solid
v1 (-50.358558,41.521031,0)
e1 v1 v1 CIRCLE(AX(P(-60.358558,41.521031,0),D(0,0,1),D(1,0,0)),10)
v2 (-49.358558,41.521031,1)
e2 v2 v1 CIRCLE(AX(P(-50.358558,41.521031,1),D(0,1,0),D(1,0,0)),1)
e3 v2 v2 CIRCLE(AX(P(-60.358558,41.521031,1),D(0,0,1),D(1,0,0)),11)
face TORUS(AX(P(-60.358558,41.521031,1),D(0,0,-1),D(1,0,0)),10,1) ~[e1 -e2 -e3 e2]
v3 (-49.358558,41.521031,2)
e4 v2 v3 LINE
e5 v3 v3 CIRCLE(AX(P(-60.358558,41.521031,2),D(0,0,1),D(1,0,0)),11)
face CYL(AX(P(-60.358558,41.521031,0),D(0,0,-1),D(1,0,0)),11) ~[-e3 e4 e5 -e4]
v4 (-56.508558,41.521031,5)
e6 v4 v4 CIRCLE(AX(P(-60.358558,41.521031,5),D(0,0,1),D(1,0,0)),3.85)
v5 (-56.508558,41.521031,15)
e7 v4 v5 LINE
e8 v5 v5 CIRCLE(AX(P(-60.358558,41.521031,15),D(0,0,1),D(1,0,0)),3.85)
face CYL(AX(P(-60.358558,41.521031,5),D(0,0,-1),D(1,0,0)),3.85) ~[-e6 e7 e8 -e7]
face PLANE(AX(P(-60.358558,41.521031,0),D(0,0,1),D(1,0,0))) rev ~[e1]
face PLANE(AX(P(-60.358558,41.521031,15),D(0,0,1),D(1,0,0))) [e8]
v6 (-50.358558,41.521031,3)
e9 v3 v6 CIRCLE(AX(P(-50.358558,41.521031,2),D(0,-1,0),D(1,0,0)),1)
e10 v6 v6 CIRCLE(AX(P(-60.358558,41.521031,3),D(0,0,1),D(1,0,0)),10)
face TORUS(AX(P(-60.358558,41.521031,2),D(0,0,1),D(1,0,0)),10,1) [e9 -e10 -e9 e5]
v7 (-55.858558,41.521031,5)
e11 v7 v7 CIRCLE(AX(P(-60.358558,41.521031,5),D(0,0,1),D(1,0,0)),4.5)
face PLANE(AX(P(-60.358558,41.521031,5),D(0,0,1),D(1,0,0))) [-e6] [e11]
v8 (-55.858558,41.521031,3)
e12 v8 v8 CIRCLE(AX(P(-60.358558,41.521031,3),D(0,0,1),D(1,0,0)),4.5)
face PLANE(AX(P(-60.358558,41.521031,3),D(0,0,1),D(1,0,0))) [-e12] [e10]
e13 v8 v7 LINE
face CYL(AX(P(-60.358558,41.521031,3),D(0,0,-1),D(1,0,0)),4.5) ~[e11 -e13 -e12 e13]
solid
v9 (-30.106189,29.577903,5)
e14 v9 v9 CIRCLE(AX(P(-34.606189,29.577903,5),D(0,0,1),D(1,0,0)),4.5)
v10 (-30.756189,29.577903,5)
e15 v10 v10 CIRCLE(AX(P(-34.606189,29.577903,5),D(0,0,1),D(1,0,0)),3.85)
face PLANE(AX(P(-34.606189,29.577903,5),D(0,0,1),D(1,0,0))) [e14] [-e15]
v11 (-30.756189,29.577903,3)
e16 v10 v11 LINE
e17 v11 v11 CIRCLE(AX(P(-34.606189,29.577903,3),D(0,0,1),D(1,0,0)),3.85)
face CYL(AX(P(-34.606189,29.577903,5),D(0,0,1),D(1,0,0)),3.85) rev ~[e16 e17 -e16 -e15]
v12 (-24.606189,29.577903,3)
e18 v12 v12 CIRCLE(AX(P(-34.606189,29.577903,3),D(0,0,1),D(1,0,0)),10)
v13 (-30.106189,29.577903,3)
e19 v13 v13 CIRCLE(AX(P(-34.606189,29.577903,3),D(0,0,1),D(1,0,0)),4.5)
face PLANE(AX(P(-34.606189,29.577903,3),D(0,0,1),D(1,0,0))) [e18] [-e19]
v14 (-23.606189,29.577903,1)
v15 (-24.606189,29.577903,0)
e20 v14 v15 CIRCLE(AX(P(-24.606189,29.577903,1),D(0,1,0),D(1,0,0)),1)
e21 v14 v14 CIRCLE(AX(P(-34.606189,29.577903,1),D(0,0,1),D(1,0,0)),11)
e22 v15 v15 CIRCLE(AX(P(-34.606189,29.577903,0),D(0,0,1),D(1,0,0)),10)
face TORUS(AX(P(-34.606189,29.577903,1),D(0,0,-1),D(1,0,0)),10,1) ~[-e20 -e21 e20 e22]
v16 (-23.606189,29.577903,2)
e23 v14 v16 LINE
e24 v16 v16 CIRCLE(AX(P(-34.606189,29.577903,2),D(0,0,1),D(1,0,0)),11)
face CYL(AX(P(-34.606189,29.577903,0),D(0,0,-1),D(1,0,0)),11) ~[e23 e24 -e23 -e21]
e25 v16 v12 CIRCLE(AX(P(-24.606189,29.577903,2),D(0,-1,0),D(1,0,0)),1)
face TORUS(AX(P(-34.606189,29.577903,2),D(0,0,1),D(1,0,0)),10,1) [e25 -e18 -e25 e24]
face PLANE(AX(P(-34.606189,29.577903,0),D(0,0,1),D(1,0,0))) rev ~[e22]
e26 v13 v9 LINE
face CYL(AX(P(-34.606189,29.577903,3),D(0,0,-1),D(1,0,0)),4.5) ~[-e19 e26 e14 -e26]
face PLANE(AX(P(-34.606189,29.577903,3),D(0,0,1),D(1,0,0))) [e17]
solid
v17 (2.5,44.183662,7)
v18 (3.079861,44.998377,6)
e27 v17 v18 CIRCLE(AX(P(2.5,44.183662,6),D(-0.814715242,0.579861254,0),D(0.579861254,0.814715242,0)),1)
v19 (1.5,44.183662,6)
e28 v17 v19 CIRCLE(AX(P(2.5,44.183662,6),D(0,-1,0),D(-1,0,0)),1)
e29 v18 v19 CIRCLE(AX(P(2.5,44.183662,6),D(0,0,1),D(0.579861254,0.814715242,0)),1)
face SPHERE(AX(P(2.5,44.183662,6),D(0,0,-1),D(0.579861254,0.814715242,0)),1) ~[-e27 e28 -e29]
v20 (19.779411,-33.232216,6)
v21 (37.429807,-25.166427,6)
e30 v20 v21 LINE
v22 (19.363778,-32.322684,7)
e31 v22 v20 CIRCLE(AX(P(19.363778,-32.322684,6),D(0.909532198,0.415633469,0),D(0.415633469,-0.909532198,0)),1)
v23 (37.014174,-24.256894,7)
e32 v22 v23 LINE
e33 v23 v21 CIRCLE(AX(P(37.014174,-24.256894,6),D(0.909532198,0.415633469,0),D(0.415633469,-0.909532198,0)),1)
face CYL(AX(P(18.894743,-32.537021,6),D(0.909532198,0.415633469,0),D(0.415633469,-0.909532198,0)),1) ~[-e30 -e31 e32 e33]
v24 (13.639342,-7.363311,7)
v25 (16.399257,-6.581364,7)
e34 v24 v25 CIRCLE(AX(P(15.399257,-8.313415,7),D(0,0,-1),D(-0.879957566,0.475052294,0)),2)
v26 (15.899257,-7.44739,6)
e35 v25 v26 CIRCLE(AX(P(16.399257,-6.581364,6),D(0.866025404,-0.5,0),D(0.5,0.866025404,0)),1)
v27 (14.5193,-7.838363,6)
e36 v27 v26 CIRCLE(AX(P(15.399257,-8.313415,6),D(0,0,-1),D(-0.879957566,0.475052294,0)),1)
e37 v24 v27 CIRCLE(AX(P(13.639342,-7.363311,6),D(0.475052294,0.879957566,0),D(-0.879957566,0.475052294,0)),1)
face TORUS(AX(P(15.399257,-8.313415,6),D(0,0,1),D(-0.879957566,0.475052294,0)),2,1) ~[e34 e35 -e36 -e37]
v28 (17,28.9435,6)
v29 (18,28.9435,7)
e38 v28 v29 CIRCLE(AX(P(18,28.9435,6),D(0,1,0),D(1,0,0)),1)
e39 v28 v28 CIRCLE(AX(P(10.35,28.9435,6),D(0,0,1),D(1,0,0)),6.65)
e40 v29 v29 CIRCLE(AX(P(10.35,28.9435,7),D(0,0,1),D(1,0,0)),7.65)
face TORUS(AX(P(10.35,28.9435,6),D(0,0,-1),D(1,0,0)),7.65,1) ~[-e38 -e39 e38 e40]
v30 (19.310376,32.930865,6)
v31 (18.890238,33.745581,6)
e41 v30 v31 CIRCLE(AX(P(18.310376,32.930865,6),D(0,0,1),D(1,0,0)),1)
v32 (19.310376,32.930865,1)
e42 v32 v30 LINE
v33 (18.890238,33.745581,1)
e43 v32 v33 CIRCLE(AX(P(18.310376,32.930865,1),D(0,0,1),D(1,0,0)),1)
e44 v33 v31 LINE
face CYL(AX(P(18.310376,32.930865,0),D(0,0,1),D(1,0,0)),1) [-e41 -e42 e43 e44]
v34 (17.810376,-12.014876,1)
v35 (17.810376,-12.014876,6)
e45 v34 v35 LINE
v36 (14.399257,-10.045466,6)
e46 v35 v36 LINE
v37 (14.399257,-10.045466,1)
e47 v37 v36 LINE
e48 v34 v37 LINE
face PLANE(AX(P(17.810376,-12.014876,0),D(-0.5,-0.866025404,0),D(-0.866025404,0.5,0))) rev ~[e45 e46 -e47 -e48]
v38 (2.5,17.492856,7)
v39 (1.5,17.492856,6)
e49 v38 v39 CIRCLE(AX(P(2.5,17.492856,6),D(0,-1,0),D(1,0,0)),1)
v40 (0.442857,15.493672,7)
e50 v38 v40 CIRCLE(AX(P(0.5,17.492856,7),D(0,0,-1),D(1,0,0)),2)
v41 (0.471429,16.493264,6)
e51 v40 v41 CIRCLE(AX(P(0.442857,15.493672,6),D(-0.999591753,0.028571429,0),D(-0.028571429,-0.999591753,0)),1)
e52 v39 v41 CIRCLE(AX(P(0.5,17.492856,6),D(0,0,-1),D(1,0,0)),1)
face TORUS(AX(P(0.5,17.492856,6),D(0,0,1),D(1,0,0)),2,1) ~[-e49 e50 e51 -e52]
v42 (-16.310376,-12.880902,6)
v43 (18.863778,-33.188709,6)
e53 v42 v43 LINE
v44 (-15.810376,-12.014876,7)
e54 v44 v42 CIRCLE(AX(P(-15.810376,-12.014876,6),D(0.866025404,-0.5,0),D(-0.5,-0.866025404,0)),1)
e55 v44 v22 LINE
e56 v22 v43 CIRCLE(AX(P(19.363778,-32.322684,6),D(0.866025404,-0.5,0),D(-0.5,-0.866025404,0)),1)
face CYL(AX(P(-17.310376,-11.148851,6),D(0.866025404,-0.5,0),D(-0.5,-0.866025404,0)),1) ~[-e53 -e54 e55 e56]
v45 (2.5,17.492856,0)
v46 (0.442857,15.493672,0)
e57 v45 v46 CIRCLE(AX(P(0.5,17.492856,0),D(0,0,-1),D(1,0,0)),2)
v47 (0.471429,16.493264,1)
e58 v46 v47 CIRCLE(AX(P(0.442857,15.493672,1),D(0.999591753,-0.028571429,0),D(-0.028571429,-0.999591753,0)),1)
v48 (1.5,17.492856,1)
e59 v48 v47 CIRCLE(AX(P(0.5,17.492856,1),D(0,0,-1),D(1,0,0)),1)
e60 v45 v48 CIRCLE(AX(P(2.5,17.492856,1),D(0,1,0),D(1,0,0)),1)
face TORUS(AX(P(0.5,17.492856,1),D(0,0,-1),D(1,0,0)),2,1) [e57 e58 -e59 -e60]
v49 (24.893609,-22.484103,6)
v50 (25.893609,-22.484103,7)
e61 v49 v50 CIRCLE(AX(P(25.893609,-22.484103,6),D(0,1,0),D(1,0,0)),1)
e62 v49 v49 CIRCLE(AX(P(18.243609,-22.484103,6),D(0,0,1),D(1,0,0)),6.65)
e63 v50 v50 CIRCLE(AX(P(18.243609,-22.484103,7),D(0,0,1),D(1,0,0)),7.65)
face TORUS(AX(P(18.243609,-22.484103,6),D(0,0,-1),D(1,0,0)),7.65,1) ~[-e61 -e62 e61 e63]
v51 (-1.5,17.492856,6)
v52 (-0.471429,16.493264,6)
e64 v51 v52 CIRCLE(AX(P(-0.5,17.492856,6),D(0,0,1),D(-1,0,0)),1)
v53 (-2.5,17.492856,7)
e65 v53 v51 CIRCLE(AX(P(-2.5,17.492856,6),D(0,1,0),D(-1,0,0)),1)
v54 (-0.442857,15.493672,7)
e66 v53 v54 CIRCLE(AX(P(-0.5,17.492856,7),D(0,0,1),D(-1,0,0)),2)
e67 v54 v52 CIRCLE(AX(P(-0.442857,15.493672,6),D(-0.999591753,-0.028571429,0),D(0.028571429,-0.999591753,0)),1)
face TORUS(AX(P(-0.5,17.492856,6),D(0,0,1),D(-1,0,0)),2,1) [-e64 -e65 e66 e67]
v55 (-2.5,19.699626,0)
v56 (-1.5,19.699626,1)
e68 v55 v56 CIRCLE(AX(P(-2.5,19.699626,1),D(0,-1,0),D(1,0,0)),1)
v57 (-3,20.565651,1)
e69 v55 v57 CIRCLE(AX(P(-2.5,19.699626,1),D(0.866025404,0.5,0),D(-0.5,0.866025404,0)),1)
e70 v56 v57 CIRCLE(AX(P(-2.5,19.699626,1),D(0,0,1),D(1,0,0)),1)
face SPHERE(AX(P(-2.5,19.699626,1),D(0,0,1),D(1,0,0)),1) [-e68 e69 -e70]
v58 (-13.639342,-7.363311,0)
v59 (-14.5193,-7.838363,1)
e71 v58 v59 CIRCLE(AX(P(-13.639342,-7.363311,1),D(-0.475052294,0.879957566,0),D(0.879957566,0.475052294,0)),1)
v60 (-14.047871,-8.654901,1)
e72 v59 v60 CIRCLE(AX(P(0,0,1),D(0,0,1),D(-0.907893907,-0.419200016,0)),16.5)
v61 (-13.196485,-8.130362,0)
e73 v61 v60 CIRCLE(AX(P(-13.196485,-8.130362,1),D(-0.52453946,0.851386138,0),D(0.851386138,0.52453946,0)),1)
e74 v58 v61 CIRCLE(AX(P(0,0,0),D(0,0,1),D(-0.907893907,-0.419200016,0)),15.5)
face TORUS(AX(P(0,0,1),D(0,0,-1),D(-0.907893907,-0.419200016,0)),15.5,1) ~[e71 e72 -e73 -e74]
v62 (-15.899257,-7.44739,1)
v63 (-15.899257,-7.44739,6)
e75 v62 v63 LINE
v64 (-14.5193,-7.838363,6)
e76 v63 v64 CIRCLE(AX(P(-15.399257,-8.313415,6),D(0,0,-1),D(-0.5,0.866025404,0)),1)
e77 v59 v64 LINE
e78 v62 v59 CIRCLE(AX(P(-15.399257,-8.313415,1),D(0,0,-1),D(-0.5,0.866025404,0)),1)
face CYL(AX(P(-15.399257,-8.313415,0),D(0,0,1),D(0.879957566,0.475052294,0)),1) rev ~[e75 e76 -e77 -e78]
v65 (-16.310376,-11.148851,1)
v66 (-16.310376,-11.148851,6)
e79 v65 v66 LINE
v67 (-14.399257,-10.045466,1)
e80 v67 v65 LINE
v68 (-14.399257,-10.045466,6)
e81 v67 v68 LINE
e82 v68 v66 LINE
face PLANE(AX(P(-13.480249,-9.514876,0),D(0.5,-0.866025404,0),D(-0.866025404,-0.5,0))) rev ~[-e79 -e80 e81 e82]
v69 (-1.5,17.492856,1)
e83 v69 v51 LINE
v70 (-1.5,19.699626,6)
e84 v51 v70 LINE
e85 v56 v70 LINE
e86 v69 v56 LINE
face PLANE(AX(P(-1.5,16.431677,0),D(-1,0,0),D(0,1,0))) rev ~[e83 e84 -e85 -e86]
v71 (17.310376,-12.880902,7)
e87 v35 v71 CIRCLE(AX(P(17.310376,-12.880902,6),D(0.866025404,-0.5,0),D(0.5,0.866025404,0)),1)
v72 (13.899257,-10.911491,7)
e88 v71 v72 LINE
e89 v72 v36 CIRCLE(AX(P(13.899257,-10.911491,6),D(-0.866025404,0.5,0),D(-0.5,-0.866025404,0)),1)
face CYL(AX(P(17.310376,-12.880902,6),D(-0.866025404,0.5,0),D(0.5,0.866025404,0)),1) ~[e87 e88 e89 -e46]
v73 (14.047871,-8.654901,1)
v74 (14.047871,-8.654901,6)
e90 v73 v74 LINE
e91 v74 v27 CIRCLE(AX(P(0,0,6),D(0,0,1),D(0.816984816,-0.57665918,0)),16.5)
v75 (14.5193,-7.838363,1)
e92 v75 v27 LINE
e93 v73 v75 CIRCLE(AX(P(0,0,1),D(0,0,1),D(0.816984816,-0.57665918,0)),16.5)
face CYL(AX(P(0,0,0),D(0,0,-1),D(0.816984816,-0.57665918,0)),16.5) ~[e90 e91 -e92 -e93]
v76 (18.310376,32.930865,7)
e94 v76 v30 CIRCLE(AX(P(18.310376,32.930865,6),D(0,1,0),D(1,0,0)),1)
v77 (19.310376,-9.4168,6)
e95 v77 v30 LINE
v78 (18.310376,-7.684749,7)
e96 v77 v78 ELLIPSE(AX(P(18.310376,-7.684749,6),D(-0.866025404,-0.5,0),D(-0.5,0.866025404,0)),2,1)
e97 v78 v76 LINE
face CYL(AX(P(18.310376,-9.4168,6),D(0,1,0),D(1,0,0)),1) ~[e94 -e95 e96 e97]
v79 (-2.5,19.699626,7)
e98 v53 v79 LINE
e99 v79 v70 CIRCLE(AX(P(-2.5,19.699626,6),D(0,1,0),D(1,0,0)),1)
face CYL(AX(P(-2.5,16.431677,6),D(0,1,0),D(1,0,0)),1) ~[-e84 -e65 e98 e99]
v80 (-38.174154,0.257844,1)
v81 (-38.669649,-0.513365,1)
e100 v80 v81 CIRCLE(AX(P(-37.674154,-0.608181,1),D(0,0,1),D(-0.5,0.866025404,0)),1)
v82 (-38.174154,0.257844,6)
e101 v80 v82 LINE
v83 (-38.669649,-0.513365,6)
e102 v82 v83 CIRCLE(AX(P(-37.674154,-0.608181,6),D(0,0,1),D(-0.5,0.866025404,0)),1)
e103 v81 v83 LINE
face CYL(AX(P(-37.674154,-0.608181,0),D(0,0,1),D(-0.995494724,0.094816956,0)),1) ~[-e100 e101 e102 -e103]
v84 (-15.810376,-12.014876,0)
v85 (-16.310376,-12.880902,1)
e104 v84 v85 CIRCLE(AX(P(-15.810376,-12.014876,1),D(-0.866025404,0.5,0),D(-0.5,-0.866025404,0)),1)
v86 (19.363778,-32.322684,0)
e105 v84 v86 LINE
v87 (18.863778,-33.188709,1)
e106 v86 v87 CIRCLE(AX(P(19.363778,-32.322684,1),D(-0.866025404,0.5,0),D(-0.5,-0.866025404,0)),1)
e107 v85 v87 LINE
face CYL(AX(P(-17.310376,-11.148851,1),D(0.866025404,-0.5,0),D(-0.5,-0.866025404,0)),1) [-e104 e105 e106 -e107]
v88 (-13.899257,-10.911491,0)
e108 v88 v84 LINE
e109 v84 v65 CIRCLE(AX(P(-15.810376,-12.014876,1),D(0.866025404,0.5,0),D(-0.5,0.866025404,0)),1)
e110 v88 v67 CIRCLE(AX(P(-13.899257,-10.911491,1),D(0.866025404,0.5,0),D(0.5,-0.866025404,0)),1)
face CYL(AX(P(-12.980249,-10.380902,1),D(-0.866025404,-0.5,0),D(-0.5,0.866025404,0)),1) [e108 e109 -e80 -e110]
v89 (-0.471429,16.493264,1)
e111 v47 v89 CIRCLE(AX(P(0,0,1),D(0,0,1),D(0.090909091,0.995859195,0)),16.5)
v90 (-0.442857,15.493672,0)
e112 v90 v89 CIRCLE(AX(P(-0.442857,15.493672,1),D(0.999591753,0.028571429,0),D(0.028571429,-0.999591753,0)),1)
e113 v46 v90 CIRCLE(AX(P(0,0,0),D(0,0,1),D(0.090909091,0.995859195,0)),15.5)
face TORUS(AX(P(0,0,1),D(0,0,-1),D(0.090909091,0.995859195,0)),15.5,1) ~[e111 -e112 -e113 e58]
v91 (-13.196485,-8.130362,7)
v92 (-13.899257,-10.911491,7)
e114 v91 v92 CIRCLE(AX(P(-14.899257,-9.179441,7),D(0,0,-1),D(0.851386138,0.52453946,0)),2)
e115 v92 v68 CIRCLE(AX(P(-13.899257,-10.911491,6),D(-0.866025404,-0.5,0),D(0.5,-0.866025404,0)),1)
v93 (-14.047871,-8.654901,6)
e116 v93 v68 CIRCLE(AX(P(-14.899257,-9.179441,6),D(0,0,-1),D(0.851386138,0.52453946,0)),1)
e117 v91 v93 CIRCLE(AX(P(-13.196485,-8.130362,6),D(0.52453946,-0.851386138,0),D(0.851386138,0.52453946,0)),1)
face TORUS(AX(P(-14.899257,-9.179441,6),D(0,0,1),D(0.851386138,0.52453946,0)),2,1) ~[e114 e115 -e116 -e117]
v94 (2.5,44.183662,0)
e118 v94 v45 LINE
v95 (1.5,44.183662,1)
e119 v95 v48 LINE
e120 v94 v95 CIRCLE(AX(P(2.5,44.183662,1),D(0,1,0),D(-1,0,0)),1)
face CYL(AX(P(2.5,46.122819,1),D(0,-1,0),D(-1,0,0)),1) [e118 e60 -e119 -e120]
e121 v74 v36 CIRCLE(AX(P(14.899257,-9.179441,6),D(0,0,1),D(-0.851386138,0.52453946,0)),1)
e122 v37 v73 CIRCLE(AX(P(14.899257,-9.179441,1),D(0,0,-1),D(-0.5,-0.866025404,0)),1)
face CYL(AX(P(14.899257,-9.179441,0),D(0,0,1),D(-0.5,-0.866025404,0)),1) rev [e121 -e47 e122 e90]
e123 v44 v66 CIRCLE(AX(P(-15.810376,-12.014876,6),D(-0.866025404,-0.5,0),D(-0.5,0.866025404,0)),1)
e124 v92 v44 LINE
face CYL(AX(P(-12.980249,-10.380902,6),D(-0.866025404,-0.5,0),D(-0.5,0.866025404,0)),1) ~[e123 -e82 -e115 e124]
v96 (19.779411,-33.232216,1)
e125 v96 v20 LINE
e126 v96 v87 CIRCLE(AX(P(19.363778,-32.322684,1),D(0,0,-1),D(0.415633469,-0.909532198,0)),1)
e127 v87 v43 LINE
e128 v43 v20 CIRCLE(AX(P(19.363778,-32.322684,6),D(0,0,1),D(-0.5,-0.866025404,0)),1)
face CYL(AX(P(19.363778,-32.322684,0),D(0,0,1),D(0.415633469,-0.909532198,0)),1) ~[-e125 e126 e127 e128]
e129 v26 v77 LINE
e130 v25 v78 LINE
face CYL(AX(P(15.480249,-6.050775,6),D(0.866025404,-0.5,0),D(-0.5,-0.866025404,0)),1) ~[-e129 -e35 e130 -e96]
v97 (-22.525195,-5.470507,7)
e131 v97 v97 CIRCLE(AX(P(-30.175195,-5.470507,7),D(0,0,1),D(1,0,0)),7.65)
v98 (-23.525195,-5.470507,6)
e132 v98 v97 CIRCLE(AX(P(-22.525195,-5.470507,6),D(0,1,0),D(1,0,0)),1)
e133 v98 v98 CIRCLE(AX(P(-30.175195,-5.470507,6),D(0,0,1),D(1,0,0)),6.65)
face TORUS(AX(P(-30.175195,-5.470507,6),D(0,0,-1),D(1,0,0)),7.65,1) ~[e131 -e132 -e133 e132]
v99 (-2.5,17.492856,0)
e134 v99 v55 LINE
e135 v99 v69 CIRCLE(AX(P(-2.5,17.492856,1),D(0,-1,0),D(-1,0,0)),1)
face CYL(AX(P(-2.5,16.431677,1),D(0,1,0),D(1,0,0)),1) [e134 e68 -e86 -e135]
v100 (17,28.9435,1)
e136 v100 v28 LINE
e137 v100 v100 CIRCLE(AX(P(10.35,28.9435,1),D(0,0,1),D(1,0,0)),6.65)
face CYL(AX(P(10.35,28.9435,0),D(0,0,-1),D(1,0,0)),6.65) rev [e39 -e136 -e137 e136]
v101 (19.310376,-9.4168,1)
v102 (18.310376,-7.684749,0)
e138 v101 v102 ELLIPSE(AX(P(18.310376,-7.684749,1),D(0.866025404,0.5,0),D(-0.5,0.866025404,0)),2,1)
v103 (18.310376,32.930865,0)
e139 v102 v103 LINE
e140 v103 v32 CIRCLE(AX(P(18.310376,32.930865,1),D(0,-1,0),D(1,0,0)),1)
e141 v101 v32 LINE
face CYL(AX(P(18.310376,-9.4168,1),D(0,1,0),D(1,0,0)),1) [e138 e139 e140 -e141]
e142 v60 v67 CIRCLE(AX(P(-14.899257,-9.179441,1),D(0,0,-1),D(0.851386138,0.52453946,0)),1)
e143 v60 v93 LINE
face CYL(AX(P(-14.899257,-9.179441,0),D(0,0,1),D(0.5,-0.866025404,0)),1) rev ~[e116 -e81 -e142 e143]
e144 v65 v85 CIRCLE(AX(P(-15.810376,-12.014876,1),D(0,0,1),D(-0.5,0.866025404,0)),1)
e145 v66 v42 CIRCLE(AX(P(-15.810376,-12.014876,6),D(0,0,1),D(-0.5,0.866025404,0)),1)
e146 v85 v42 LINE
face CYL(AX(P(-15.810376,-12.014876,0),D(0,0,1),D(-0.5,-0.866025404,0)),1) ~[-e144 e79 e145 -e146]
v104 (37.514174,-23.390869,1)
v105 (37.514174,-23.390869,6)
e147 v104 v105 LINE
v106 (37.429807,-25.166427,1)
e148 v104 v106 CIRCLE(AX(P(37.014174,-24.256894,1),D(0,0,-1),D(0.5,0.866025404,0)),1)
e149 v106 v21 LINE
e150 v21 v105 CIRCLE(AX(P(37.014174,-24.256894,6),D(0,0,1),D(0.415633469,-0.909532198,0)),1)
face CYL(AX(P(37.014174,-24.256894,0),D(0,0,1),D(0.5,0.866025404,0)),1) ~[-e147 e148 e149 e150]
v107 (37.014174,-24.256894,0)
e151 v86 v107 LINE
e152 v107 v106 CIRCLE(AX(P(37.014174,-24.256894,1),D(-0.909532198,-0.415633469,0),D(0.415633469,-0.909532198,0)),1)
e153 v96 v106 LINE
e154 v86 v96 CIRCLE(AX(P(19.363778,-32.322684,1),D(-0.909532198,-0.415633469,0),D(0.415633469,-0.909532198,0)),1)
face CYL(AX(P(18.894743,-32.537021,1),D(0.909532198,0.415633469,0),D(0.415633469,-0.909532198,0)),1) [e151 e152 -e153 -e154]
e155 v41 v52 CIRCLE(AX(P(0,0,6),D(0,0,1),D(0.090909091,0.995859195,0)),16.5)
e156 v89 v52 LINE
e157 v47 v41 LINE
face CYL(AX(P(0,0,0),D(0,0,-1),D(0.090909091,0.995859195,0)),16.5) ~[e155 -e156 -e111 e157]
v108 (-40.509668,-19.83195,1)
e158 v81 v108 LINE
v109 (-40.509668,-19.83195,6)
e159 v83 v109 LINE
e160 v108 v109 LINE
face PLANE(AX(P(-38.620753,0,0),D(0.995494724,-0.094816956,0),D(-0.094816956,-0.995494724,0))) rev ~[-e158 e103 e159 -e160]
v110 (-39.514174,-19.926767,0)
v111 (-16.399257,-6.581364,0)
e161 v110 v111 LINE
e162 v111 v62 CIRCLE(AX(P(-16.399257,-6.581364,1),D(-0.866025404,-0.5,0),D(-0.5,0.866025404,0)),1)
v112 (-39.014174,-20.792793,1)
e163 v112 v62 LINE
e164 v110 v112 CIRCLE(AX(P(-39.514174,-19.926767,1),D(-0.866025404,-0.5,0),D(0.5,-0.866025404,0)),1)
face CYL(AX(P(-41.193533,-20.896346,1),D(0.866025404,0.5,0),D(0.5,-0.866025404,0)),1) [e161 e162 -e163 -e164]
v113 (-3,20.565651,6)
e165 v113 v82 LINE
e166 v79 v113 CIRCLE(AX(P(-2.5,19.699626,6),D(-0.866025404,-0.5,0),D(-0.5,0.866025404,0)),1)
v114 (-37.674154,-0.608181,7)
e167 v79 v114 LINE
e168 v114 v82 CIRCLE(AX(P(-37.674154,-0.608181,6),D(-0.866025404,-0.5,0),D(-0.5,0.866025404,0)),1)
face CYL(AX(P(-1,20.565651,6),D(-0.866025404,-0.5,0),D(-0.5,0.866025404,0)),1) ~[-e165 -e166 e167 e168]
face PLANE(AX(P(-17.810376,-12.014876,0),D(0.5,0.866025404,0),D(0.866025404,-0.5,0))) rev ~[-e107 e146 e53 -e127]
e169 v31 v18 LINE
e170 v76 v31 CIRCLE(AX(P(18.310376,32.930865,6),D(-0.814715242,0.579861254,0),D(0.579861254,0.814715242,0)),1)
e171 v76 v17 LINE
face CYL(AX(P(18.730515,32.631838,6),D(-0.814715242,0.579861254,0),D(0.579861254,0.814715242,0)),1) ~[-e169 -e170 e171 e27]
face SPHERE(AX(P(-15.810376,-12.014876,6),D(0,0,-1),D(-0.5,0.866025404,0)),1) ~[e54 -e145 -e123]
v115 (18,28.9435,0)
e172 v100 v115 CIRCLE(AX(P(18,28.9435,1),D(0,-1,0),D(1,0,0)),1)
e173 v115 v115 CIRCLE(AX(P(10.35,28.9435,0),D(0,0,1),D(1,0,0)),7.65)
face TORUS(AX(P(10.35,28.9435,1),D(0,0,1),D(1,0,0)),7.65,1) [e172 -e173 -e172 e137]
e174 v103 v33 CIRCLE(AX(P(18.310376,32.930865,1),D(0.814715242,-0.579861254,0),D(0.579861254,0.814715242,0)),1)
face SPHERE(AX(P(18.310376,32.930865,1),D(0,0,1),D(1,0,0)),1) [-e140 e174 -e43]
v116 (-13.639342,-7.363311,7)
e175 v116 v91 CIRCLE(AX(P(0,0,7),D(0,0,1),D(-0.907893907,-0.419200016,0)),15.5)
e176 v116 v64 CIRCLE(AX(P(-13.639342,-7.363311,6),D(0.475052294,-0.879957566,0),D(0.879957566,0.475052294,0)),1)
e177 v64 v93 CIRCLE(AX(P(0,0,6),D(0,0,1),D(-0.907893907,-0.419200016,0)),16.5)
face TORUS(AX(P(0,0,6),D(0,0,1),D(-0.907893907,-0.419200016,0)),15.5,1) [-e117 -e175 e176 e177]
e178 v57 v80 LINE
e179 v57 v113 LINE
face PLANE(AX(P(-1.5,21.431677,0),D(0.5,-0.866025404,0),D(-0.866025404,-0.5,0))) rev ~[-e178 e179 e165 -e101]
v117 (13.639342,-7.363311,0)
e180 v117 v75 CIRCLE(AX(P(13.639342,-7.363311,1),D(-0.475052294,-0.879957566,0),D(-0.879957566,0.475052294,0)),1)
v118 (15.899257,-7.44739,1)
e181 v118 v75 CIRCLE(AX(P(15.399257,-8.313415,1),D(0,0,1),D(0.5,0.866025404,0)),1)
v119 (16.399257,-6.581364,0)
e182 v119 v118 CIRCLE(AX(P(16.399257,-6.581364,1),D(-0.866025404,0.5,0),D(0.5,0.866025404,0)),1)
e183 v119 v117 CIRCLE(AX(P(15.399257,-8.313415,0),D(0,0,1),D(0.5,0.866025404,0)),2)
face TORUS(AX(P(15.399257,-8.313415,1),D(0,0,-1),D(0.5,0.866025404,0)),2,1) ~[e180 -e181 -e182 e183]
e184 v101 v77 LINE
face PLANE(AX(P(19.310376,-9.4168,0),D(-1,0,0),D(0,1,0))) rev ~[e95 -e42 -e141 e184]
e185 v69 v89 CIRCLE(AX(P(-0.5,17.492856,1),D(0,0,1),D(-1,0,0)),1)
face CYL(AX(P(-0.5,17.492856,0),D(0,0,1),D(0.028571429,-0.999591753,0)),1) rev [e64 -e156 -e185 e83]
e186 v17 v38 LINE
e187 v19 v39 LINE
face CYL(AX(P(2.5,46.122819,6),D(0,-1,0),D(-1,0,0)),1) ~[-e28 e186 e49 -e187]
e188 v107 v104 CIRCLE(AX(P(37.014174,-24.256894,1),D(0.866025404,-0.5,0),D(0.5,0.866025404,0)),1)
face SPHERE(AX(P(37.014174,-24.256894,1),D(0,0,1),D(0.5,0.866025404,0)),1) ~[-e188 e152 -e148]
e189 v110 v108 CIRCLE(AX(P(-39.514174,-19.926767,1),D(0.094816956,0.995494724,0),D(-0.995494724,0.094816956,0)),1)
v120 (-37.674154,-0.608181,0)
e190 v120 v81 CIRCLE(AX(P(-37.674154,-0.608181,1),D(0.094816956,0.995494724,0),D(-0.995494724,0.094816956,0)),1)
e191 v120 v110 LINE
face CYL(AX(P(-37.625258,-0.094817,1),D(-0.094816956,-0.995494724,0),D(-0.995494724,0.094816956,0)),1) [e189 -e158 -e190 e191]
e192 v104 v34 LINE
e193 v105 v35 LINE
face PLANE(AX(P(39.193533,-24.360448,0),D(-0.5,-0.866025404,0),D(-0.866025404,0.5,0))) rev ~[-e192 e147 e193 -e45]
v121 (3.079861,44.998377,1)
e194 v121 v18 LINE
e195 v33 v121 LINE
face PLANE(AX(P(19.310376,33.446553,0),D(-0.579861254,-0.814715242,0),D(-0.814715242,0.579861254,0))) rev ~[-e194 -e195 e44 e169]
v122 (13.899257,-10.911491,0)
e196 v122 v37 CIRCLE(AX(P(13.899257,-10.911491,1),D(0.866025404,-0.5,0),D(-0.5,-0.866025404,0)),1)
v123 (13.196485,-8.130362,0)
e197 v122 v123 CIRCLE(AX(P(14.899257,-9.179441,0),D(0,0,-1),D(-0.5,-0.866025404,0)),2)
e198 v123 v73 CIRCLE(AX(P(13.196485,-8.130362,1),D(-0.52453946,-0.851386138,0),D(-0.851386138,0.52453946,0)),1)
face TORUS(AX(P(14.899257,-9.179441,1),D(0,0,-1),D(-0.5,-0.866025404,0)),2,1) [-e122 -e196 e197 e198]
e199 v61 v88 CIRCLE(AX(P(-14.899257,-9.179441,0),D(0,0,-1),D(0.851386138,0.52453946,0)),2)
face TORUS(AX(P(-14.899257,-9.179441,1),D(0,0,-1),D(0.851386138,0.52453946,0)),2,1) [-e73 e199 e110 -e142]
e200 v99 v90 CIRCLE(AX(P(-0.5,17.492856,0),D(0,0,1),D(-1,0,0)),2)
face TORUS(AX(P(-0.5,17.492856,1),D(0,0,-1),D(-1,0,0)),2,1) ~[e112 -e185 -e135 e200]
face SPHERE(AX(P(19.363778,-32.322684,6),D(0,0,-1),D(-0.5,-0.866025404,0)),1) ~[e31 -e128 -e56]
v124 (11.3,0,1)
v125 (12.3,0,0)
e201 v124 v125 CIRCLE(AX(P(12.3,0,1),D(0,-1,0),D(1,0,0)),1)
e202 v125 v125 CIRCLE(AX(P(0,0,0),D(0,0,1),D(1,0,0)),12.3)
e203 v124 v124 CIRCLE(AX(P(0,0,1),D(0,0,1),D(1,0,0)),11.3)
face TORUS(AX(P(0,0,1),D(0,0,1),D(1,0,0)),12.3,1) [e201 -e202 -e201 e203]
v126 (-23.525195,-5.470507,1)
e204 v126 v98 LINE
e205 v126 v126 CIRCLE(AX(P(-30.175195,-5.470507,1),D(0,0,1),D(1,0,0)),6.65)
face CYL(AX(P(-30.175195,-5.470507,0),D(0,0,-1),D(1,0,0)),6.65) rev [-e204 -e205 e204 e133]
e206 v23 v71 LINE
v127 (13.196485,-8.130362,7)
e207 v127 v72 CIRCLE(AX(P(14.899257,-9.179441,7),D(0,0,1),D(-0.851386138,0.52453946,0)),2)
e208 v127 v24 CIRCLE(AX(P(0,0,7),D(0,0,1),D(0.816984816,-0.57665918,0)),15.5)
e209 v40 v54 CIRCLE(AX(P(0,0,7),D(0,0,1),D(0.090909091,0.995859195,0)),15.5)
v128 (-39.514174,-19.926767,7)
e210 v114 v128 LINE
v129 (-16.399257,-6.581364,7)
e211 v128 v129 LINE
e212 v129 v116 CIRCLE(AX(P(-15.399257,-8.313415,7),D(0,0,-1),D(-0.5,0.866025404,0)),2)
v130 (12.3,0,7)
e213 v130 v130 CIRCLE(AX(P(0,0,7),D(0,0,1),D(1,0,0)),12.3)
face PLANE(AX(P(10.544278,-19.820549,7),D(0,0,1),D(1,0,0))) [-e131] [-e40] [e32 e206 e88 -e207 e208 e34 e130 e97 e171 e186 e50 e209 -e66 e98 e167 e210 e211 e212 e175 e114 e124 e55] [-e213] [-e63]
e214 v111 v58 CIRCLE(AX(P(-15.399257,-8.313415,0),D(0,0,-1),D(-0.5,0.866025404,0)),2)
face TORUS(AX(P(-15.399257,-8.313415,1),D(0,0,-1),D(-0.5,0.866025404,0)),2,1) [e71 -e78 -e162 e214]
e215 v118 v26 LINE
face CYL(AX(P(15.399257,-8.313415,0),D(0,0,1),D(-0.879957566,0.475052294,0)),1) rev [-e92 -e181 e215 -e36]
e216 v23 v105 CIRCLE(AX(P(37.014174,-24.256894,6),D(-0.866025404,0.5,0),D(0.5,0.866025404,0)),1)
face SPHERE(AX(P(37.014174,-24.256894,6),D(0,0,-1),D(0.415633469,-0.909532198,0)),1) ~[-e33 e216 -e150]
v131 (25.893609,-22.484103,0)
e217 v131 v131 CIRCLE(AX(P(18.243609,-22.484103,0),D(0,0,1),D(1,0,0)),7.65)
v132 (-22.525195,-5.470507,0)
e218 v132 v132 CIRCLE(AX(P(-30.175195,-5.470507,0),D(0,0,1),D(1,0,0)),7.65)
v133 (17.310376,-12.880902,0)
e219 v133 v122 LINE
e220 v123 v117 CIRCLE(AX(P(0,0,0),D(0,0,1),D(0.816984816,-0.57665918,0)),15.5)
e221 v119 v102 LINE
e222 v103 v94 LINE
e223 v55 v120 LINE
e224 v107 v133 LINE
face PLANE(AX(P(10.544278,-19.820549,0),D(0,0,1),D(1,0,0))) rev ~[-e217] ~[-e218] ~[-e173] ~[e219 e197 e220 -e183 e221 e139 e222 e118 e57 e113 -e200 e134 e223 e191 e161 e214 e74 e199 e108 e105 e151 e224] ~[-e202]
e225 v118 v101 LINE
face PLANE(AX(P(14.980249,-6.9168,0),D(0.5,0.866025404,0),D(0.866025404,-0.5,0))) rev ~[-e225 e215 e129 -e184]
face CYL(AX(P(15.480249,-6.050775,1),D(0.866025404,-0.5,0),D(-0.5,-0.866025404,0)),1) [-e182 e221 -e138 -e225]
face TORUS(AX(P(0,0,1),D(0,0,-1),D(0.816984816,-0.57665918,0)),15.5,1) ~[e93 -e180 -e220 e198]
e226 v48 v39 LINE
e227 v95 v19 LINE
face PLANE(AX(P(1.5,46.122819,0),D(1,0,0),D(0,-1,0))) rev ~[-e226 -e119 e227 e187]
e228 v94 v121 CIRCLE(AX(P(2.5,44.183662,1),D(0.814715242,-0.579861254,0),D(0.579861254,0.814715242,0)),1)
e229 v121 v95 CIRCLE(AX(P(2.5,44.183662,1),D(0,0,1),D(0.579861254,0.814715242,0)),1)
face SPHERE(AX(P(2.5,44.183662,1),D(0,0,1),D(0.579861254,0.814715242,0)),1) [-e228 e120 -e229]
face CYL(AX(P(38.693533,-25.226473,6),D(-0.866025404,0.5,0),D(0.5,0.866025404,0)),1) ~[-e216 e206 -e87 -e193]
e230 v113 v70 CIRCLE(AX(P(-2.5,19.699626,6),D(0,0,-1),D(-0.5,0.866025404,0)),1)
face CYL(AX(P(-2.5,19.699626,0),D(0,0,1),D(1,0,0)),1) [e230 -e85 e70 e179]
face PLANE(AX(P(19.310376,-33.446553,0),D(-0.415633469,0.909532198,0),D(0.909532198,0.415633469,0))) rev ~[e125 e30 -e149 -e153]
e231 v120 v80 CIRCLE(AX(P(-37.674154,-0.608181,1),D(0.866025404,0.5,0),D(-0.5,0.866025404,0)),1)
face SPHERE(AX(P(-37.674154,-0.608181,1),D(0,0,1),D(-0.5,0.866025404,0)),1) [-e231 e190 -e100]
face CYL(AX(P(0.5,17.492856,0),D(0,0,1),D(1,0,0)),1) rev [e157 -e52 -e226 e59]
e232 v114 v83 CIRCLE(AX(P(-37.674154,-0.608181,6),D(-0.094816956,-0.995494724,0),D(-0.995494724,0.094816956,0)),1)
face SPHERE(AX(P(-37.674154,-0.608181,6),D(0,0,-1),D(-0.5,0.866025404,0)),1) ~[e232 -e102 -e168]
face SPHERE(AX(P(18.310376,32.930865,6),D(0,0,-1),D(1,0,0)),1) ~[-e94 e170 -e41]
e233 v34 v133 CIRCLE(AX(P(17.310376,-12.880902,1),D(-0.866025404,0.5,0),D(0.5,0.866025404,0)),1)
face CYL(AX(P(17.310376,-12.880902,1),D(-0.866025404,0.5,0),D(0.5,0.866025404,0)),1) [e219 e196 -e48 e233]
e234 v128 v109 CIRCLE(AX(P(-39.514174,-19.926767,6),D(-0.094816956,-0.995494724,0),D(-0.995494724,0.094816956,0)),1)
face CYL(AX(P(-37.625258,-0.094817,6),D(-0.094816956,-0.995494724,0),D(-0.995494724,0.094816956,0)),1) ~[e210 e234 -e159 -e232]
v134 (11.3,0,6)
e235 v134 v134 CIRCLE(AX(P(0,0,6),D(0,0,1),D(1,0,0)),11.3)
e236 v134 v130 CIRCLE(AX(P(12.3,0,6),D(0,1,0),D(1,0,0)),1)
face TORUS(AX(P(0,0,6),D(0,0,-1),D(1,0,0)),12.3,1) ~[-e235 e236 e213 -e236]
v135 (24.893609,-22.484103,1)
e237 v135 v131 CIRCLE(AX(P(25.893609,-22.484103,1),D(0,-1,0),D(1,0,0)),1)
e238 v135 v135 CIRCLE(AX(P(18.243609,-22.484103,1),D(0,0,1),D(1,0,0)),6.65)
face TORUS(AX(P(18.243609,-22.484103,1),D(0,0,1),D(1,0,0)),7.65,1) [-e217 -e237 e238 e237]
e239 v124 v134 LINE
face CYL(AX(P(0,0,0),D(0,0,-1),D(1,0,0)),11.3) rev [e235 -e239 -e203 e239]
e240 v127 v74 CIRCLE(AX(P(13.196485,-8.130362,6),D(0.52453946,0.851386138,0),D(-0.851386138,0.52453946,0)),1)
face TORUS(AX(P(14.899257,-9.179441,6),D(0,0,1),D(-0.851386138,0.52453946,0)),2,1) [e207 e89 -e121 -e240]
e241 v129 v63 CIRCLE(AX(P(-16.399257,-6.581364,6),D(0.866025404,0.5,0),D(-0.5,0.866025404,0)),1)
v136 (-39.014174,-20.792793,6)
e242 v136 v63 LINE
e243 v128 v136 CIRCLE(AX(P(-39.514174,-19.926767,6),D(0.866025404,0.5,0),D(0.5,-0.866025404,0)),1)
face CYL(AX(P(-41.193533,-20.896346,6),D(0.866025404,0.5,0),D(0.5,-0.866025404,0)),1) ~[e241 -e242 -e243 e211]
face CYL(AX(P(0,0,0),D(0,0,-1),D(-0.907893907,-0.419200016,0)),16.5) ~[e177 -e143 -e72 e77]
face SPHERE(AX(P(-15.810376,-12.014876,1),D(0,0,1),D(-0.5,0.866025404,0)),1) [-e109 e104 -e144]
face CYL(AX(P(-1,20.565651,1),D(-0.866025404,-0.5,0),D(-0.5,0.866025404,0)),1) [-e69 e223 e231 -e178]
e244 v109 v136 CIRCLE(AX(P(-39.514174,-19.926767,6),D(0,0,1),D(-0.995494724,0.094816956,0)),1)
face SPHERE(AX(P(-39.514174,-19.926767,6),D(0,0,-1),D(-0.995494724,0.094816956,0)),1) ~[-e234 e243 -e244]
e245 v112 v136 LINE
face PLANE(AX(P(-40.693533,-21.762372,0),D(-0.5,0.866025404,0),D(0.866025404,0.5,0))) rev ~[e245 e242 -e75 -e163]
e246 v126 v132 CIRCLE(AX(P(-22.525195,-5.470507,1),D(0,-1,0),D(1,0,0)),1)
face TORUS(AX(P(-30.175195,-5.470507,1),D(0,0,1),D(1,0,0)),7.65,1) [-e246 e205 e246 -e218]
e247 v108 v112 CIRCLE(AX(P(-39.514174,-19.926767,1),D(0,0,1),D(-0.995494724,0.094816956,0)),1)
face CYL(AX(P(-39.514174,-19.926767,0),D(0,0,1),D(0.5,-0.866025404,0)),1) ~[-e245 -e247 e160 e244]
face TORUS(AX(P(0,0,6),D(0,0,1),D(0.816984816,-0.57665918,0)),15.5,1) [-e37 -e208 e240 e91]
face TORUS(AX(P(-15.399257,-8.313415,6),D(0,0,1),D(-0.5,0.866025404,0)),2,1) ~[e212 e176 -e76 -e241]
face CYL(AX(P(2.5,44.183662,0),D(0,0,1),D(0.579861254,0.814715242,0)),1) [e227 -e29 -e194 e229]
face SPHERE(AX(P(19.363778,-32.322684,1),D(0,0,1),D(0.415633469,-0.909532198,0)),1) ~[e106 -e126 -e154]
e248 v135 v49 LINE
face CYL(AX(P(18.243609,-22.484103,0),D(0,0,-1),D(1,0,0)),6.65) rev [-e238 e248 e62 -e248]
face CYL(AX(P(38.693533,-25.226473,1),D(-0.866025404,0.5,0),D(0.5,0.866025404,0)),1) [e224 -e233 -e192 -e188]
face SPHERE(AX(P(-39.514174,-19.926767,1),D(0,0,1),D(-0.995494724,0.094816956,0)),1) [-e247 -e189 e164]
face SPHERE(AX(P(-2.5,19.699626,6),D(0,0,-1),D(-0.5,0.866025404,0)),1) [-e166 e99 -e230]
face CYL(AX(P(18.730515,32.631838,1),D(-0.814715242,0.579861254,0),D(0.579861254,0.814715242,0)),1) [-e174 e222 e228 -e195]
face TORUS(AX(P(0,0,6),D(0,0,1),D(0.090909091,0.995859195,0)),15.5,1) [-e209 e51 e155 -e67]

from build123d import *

# Parameters (mm, degrees)
F0_R      = 6.65
F0_R_2    = 11.3
F1_DEPTH  = 7
F2_R      = 1
F0_R_3    = 11
F3_DEPTH  = 3
F4_R      = 4.5
F5_DEPTH  = 2
F6_R      = 3.85
F7_DEPTH  = 10
F8_R      = 4.5
F9_DEPTH  = 2
F10_R     = 3.85
F11_DEPTH = 2
F12_R     = 1
F12_2_R   = 1


with BuildPart() as f1:
    # F0 (on Top) → F1 (new body)
    with BuildSketch(Plane.XY):
        with BuildLine():
            Line((17.8103764897, -12.0148764683), (13.4802494708, -9.5148764683))
            ThreePointArc((13.4802494708, -9.5148764683), (0, -16.5), (-13.4802494708, -9.5148764683))
            Line((-13.4802494708, -9.5148764683), (-17.8103764897, -12.0148764683))
            Line((-17.8103764897, -12.0148764683), (19.3103764897, -33.4465531934))
            Line((19.3103764897, -33.4465531934), (39.1935332496, -24.3604477797))
            Line((39.1935332496, -24.3604477797), (17.8103764897, -12.0148764683))
        make_face()
        with Locations((18.2436092626, -22.484103291)):
            Circle(F0_R, mode=Mode.SUBTRACT)
        with BuildLine():
            ThreePointArc((-14.9802494708, -6.9168002569), (-14.2894191624, 8.25), (-1.5, 16.4316767252))
            Line((-1.5, 16.4316767252), (-1.5, 21.4316767252))
            Line((-1.5, 21.4316767252), (-38.6207529794, 0))
            Line((-38.6207529794, 0), (-40.6935332496, -21.7623715684))
            Line((-40.6935332496, -21.7623715684), (-19.3103764897, -9.4168002569))
            Line((-19.3103764897, -9.4168002569), (-14.9802494708, -6.9168002569))
        make_face()
        with Locations((-30.1751954546, -5.4705066464)):
            Circle(F0_R, mode=Mode.SUBTRACT)
        with BuildLine():
            ThreePointArc((1.5, 16.4316767252), (12.186057607, 11.1242977306), (16.5, 0))
            ThreePointArc((16.5, 0), (16.1155843249, -3.5408956305), (14.9802494708, -6.9168002569))
            Line((14.9802494708, -6.9168002569), (19.3103764897, -9.4168002569))
            Line((19.3103764897, -9.4168002569), (19.3103764897, 33.4465531934))
            Line((19.3103764897, 33.4465531934), (1.5, 46.1228193481))
            Line((1.5, 46.1228193481), (1.5, 21.4316767252))
            Line((1.5, 21.4316767252), (1.5, 16.4316767252))
        make_face()
        with Locations((10.35, 28.9434995502)):
            Circle(F0_R, mode=Mode.SUBTRACT)
        with BuildLine():
            ThreePointArc((14.9802494708, -6.9168002569), (16.1155843249, -3.5408956305), (16.5, 0))
            ThreePointArc((16.5, 0), (12.186057607, 11.1242977306), (1.5, 16.4316767252))
            ThreePointArc((1.5, 16.4316767252), (0, 16.5), (-1.5, 16.4316767252))
            ThreePointArc((-1.5, 16.4316767252), (-14.2894191624, 8.25), (-14.9802494708, -6.9168002569))
            ThreePointArc((-14.9802494708, -6.9168002569), (-14.2894191624, -8.25), (-13.4802494708, -9.5148764683))
            ThreePointArc((-13.4802494708, -9.5148764683), (0, -16.5), (13.4802494708, -9.5148764683))
            ThreePointArc((13.4802494708, -9.5148764683), (14.2894191624, -8.25), (14.9802494708, -6.9168002569))
        make_face()
        Circle(F0_R_2, mode=Mode.SUBTRACT)
    extrude(amount=F1_DEPTH)

    # F2
    f2_edges = [f1.edges().sort_by_distance(p)[0] for p in [
        (19.310376, 12.014876, 7),
        (10.405188, 39.784686, 7),
        (1.5, 31.277248, 7),
        (-20.060376, 10.715838, 7),
        (-1.5, 18.931677, 7),
        (0, 16.5, 7),
        (-39.657143, -10.881186, 7),
        (-27.836891, -14.339586, 7),
        (-14.289419, -8.25, 7),
        (-15.645313, -10.764876, 7),
        (0.75, -22.730715, 7),
        (29.251955, -28.9035, 7),
        (26.336891, -16.937662, 7),
        (17.145313, -8.1668, 7),
        (29.251955, -28.9035, 0),
        (0.75, -22.730715, 0),
        (19.310376, -33.446553, 3.5),
        (39.193533, -24.360448, 3.5),
        (-17.810376, -12.014876, 3.5),
        (-14.980249, -6.9168, 3.5),
        (-13.480249, -9.514876, 3.5),
        (-27.836891, -14.339586, 0),
        (-40.693533, -21.762372, 3.5),
        (-39.657143, -10.881186, 0),
        (-38.620753, 0, 3.5),
        (-20.060376, 10.715838, 0),
        (-1.5, 21.431677, 3.5),
        (-1.5, 16.431677, 3.5),
        (1.5, 16.431677, 3.5),
        (1.5, 31.277248, 0),
        (1.5, 46.122819, 3.5),
        (10.405188, 39.784686, 0),
        (19.310376, 33.446553, 3.5),
        (19.310376, 12.014876, 0),
        (13.480249, -9.514876, 3.5),
        (26.336891, -16.937662, 0),
        (14.980249, -6.9168, 3.5),
        (17.145313, -8.1668, 0),
        (14.289419, -8.25, 0),
        (14.289419, -8.25, 7),
        (-1.5, 18.931677, 0),
        (0, 16.5, 0),
        (-14.289419, -8.25, 0),
        (-15.645313, -10.764876, 0),
        (-11.3, 0, 7),
        (11.593609, -22.484103, 7),
        (11.593609, -22.484103, 0),
        (-36.825195, -5.470507, 7),
        (-36.825195, -5.470507, 0),
        (3.7, 28.9435, 0),
        (3.7, 28.9435, 7),
        (-11.3, 0, 0),
    ]]
    fillet(f2_edges, radius=F2_R)


with BuildPart() as f3:
    # F0 (on Top) → F3 (new body)
    with BuildSketch(Plane.XY):
        with Locations((-34.6061885357, 29.5779034495)):
            Circle(F0_R_3)
    extrude(amount=F3_DEPTH)

    # F8 (on face) → F9 (join)
    with BuildSketch(Plane.XY.offset(3)):
        with Locations((-34.6061885357, 29.5779034495)):
            Circle(F8_R)
    extrude(amount=F9_DEPTH)

    # F10 (on face) → F11 (cut)
    with BuildSketch(Plane.XY.offset(5)):
        with Locations((-34.6061885357, 29.5779034495)):
            Circle(F10_R)
    extrude(amount=-F11_DEPTH, mode=Mode.SUBTRACT)

    # F12#2
    f12_2_edges = [f3.edges().sort_by_distance(p)[0] for p in [
        (-45.606189, 29.577903, 0),
        (-45.606189, 29.577903, 3),
    ]]
    fillet(f12_2_edges, radius=F12_2_R)


with BuildPart() as f3b:
    # F0 (on Top) → F3, piece 2 (new body)
    with BuildSketch(Plane.XY):
        with Locations((-60.3585578501, 41.5210314095)):
            Circle(F0_R_3)
    extrude(amount=F3_DEPTH)

    # F4 (on face) → F5 (join)
    with BuildSketch(Plane.XY.offset(3)):
        with Locations((-60.3585578501, 41.5210314095)):
            Circle(F4_R)
    extrude(amount=F5_DEPTH)

    # F6 (on face) → F7 (join)
    with BuildSketch(Plane.XY.offset(5)):
        with Locations((-60.3585578501, 41.5210314095)):
            Circle(F6_R)
    extrude(amount=F7_DEPTH)

    # F12
    f12_edges = [f3b.edges().sort_by_distance(p)[0] for p in [
        (-71.358558, 41.521031, 0),
        (-71.358558, 41.521031, 3),
    ]]
    fillet(f12_edges, radius=F12_R)


solid = Compound([f1.part, f3.part, f3b.part])
